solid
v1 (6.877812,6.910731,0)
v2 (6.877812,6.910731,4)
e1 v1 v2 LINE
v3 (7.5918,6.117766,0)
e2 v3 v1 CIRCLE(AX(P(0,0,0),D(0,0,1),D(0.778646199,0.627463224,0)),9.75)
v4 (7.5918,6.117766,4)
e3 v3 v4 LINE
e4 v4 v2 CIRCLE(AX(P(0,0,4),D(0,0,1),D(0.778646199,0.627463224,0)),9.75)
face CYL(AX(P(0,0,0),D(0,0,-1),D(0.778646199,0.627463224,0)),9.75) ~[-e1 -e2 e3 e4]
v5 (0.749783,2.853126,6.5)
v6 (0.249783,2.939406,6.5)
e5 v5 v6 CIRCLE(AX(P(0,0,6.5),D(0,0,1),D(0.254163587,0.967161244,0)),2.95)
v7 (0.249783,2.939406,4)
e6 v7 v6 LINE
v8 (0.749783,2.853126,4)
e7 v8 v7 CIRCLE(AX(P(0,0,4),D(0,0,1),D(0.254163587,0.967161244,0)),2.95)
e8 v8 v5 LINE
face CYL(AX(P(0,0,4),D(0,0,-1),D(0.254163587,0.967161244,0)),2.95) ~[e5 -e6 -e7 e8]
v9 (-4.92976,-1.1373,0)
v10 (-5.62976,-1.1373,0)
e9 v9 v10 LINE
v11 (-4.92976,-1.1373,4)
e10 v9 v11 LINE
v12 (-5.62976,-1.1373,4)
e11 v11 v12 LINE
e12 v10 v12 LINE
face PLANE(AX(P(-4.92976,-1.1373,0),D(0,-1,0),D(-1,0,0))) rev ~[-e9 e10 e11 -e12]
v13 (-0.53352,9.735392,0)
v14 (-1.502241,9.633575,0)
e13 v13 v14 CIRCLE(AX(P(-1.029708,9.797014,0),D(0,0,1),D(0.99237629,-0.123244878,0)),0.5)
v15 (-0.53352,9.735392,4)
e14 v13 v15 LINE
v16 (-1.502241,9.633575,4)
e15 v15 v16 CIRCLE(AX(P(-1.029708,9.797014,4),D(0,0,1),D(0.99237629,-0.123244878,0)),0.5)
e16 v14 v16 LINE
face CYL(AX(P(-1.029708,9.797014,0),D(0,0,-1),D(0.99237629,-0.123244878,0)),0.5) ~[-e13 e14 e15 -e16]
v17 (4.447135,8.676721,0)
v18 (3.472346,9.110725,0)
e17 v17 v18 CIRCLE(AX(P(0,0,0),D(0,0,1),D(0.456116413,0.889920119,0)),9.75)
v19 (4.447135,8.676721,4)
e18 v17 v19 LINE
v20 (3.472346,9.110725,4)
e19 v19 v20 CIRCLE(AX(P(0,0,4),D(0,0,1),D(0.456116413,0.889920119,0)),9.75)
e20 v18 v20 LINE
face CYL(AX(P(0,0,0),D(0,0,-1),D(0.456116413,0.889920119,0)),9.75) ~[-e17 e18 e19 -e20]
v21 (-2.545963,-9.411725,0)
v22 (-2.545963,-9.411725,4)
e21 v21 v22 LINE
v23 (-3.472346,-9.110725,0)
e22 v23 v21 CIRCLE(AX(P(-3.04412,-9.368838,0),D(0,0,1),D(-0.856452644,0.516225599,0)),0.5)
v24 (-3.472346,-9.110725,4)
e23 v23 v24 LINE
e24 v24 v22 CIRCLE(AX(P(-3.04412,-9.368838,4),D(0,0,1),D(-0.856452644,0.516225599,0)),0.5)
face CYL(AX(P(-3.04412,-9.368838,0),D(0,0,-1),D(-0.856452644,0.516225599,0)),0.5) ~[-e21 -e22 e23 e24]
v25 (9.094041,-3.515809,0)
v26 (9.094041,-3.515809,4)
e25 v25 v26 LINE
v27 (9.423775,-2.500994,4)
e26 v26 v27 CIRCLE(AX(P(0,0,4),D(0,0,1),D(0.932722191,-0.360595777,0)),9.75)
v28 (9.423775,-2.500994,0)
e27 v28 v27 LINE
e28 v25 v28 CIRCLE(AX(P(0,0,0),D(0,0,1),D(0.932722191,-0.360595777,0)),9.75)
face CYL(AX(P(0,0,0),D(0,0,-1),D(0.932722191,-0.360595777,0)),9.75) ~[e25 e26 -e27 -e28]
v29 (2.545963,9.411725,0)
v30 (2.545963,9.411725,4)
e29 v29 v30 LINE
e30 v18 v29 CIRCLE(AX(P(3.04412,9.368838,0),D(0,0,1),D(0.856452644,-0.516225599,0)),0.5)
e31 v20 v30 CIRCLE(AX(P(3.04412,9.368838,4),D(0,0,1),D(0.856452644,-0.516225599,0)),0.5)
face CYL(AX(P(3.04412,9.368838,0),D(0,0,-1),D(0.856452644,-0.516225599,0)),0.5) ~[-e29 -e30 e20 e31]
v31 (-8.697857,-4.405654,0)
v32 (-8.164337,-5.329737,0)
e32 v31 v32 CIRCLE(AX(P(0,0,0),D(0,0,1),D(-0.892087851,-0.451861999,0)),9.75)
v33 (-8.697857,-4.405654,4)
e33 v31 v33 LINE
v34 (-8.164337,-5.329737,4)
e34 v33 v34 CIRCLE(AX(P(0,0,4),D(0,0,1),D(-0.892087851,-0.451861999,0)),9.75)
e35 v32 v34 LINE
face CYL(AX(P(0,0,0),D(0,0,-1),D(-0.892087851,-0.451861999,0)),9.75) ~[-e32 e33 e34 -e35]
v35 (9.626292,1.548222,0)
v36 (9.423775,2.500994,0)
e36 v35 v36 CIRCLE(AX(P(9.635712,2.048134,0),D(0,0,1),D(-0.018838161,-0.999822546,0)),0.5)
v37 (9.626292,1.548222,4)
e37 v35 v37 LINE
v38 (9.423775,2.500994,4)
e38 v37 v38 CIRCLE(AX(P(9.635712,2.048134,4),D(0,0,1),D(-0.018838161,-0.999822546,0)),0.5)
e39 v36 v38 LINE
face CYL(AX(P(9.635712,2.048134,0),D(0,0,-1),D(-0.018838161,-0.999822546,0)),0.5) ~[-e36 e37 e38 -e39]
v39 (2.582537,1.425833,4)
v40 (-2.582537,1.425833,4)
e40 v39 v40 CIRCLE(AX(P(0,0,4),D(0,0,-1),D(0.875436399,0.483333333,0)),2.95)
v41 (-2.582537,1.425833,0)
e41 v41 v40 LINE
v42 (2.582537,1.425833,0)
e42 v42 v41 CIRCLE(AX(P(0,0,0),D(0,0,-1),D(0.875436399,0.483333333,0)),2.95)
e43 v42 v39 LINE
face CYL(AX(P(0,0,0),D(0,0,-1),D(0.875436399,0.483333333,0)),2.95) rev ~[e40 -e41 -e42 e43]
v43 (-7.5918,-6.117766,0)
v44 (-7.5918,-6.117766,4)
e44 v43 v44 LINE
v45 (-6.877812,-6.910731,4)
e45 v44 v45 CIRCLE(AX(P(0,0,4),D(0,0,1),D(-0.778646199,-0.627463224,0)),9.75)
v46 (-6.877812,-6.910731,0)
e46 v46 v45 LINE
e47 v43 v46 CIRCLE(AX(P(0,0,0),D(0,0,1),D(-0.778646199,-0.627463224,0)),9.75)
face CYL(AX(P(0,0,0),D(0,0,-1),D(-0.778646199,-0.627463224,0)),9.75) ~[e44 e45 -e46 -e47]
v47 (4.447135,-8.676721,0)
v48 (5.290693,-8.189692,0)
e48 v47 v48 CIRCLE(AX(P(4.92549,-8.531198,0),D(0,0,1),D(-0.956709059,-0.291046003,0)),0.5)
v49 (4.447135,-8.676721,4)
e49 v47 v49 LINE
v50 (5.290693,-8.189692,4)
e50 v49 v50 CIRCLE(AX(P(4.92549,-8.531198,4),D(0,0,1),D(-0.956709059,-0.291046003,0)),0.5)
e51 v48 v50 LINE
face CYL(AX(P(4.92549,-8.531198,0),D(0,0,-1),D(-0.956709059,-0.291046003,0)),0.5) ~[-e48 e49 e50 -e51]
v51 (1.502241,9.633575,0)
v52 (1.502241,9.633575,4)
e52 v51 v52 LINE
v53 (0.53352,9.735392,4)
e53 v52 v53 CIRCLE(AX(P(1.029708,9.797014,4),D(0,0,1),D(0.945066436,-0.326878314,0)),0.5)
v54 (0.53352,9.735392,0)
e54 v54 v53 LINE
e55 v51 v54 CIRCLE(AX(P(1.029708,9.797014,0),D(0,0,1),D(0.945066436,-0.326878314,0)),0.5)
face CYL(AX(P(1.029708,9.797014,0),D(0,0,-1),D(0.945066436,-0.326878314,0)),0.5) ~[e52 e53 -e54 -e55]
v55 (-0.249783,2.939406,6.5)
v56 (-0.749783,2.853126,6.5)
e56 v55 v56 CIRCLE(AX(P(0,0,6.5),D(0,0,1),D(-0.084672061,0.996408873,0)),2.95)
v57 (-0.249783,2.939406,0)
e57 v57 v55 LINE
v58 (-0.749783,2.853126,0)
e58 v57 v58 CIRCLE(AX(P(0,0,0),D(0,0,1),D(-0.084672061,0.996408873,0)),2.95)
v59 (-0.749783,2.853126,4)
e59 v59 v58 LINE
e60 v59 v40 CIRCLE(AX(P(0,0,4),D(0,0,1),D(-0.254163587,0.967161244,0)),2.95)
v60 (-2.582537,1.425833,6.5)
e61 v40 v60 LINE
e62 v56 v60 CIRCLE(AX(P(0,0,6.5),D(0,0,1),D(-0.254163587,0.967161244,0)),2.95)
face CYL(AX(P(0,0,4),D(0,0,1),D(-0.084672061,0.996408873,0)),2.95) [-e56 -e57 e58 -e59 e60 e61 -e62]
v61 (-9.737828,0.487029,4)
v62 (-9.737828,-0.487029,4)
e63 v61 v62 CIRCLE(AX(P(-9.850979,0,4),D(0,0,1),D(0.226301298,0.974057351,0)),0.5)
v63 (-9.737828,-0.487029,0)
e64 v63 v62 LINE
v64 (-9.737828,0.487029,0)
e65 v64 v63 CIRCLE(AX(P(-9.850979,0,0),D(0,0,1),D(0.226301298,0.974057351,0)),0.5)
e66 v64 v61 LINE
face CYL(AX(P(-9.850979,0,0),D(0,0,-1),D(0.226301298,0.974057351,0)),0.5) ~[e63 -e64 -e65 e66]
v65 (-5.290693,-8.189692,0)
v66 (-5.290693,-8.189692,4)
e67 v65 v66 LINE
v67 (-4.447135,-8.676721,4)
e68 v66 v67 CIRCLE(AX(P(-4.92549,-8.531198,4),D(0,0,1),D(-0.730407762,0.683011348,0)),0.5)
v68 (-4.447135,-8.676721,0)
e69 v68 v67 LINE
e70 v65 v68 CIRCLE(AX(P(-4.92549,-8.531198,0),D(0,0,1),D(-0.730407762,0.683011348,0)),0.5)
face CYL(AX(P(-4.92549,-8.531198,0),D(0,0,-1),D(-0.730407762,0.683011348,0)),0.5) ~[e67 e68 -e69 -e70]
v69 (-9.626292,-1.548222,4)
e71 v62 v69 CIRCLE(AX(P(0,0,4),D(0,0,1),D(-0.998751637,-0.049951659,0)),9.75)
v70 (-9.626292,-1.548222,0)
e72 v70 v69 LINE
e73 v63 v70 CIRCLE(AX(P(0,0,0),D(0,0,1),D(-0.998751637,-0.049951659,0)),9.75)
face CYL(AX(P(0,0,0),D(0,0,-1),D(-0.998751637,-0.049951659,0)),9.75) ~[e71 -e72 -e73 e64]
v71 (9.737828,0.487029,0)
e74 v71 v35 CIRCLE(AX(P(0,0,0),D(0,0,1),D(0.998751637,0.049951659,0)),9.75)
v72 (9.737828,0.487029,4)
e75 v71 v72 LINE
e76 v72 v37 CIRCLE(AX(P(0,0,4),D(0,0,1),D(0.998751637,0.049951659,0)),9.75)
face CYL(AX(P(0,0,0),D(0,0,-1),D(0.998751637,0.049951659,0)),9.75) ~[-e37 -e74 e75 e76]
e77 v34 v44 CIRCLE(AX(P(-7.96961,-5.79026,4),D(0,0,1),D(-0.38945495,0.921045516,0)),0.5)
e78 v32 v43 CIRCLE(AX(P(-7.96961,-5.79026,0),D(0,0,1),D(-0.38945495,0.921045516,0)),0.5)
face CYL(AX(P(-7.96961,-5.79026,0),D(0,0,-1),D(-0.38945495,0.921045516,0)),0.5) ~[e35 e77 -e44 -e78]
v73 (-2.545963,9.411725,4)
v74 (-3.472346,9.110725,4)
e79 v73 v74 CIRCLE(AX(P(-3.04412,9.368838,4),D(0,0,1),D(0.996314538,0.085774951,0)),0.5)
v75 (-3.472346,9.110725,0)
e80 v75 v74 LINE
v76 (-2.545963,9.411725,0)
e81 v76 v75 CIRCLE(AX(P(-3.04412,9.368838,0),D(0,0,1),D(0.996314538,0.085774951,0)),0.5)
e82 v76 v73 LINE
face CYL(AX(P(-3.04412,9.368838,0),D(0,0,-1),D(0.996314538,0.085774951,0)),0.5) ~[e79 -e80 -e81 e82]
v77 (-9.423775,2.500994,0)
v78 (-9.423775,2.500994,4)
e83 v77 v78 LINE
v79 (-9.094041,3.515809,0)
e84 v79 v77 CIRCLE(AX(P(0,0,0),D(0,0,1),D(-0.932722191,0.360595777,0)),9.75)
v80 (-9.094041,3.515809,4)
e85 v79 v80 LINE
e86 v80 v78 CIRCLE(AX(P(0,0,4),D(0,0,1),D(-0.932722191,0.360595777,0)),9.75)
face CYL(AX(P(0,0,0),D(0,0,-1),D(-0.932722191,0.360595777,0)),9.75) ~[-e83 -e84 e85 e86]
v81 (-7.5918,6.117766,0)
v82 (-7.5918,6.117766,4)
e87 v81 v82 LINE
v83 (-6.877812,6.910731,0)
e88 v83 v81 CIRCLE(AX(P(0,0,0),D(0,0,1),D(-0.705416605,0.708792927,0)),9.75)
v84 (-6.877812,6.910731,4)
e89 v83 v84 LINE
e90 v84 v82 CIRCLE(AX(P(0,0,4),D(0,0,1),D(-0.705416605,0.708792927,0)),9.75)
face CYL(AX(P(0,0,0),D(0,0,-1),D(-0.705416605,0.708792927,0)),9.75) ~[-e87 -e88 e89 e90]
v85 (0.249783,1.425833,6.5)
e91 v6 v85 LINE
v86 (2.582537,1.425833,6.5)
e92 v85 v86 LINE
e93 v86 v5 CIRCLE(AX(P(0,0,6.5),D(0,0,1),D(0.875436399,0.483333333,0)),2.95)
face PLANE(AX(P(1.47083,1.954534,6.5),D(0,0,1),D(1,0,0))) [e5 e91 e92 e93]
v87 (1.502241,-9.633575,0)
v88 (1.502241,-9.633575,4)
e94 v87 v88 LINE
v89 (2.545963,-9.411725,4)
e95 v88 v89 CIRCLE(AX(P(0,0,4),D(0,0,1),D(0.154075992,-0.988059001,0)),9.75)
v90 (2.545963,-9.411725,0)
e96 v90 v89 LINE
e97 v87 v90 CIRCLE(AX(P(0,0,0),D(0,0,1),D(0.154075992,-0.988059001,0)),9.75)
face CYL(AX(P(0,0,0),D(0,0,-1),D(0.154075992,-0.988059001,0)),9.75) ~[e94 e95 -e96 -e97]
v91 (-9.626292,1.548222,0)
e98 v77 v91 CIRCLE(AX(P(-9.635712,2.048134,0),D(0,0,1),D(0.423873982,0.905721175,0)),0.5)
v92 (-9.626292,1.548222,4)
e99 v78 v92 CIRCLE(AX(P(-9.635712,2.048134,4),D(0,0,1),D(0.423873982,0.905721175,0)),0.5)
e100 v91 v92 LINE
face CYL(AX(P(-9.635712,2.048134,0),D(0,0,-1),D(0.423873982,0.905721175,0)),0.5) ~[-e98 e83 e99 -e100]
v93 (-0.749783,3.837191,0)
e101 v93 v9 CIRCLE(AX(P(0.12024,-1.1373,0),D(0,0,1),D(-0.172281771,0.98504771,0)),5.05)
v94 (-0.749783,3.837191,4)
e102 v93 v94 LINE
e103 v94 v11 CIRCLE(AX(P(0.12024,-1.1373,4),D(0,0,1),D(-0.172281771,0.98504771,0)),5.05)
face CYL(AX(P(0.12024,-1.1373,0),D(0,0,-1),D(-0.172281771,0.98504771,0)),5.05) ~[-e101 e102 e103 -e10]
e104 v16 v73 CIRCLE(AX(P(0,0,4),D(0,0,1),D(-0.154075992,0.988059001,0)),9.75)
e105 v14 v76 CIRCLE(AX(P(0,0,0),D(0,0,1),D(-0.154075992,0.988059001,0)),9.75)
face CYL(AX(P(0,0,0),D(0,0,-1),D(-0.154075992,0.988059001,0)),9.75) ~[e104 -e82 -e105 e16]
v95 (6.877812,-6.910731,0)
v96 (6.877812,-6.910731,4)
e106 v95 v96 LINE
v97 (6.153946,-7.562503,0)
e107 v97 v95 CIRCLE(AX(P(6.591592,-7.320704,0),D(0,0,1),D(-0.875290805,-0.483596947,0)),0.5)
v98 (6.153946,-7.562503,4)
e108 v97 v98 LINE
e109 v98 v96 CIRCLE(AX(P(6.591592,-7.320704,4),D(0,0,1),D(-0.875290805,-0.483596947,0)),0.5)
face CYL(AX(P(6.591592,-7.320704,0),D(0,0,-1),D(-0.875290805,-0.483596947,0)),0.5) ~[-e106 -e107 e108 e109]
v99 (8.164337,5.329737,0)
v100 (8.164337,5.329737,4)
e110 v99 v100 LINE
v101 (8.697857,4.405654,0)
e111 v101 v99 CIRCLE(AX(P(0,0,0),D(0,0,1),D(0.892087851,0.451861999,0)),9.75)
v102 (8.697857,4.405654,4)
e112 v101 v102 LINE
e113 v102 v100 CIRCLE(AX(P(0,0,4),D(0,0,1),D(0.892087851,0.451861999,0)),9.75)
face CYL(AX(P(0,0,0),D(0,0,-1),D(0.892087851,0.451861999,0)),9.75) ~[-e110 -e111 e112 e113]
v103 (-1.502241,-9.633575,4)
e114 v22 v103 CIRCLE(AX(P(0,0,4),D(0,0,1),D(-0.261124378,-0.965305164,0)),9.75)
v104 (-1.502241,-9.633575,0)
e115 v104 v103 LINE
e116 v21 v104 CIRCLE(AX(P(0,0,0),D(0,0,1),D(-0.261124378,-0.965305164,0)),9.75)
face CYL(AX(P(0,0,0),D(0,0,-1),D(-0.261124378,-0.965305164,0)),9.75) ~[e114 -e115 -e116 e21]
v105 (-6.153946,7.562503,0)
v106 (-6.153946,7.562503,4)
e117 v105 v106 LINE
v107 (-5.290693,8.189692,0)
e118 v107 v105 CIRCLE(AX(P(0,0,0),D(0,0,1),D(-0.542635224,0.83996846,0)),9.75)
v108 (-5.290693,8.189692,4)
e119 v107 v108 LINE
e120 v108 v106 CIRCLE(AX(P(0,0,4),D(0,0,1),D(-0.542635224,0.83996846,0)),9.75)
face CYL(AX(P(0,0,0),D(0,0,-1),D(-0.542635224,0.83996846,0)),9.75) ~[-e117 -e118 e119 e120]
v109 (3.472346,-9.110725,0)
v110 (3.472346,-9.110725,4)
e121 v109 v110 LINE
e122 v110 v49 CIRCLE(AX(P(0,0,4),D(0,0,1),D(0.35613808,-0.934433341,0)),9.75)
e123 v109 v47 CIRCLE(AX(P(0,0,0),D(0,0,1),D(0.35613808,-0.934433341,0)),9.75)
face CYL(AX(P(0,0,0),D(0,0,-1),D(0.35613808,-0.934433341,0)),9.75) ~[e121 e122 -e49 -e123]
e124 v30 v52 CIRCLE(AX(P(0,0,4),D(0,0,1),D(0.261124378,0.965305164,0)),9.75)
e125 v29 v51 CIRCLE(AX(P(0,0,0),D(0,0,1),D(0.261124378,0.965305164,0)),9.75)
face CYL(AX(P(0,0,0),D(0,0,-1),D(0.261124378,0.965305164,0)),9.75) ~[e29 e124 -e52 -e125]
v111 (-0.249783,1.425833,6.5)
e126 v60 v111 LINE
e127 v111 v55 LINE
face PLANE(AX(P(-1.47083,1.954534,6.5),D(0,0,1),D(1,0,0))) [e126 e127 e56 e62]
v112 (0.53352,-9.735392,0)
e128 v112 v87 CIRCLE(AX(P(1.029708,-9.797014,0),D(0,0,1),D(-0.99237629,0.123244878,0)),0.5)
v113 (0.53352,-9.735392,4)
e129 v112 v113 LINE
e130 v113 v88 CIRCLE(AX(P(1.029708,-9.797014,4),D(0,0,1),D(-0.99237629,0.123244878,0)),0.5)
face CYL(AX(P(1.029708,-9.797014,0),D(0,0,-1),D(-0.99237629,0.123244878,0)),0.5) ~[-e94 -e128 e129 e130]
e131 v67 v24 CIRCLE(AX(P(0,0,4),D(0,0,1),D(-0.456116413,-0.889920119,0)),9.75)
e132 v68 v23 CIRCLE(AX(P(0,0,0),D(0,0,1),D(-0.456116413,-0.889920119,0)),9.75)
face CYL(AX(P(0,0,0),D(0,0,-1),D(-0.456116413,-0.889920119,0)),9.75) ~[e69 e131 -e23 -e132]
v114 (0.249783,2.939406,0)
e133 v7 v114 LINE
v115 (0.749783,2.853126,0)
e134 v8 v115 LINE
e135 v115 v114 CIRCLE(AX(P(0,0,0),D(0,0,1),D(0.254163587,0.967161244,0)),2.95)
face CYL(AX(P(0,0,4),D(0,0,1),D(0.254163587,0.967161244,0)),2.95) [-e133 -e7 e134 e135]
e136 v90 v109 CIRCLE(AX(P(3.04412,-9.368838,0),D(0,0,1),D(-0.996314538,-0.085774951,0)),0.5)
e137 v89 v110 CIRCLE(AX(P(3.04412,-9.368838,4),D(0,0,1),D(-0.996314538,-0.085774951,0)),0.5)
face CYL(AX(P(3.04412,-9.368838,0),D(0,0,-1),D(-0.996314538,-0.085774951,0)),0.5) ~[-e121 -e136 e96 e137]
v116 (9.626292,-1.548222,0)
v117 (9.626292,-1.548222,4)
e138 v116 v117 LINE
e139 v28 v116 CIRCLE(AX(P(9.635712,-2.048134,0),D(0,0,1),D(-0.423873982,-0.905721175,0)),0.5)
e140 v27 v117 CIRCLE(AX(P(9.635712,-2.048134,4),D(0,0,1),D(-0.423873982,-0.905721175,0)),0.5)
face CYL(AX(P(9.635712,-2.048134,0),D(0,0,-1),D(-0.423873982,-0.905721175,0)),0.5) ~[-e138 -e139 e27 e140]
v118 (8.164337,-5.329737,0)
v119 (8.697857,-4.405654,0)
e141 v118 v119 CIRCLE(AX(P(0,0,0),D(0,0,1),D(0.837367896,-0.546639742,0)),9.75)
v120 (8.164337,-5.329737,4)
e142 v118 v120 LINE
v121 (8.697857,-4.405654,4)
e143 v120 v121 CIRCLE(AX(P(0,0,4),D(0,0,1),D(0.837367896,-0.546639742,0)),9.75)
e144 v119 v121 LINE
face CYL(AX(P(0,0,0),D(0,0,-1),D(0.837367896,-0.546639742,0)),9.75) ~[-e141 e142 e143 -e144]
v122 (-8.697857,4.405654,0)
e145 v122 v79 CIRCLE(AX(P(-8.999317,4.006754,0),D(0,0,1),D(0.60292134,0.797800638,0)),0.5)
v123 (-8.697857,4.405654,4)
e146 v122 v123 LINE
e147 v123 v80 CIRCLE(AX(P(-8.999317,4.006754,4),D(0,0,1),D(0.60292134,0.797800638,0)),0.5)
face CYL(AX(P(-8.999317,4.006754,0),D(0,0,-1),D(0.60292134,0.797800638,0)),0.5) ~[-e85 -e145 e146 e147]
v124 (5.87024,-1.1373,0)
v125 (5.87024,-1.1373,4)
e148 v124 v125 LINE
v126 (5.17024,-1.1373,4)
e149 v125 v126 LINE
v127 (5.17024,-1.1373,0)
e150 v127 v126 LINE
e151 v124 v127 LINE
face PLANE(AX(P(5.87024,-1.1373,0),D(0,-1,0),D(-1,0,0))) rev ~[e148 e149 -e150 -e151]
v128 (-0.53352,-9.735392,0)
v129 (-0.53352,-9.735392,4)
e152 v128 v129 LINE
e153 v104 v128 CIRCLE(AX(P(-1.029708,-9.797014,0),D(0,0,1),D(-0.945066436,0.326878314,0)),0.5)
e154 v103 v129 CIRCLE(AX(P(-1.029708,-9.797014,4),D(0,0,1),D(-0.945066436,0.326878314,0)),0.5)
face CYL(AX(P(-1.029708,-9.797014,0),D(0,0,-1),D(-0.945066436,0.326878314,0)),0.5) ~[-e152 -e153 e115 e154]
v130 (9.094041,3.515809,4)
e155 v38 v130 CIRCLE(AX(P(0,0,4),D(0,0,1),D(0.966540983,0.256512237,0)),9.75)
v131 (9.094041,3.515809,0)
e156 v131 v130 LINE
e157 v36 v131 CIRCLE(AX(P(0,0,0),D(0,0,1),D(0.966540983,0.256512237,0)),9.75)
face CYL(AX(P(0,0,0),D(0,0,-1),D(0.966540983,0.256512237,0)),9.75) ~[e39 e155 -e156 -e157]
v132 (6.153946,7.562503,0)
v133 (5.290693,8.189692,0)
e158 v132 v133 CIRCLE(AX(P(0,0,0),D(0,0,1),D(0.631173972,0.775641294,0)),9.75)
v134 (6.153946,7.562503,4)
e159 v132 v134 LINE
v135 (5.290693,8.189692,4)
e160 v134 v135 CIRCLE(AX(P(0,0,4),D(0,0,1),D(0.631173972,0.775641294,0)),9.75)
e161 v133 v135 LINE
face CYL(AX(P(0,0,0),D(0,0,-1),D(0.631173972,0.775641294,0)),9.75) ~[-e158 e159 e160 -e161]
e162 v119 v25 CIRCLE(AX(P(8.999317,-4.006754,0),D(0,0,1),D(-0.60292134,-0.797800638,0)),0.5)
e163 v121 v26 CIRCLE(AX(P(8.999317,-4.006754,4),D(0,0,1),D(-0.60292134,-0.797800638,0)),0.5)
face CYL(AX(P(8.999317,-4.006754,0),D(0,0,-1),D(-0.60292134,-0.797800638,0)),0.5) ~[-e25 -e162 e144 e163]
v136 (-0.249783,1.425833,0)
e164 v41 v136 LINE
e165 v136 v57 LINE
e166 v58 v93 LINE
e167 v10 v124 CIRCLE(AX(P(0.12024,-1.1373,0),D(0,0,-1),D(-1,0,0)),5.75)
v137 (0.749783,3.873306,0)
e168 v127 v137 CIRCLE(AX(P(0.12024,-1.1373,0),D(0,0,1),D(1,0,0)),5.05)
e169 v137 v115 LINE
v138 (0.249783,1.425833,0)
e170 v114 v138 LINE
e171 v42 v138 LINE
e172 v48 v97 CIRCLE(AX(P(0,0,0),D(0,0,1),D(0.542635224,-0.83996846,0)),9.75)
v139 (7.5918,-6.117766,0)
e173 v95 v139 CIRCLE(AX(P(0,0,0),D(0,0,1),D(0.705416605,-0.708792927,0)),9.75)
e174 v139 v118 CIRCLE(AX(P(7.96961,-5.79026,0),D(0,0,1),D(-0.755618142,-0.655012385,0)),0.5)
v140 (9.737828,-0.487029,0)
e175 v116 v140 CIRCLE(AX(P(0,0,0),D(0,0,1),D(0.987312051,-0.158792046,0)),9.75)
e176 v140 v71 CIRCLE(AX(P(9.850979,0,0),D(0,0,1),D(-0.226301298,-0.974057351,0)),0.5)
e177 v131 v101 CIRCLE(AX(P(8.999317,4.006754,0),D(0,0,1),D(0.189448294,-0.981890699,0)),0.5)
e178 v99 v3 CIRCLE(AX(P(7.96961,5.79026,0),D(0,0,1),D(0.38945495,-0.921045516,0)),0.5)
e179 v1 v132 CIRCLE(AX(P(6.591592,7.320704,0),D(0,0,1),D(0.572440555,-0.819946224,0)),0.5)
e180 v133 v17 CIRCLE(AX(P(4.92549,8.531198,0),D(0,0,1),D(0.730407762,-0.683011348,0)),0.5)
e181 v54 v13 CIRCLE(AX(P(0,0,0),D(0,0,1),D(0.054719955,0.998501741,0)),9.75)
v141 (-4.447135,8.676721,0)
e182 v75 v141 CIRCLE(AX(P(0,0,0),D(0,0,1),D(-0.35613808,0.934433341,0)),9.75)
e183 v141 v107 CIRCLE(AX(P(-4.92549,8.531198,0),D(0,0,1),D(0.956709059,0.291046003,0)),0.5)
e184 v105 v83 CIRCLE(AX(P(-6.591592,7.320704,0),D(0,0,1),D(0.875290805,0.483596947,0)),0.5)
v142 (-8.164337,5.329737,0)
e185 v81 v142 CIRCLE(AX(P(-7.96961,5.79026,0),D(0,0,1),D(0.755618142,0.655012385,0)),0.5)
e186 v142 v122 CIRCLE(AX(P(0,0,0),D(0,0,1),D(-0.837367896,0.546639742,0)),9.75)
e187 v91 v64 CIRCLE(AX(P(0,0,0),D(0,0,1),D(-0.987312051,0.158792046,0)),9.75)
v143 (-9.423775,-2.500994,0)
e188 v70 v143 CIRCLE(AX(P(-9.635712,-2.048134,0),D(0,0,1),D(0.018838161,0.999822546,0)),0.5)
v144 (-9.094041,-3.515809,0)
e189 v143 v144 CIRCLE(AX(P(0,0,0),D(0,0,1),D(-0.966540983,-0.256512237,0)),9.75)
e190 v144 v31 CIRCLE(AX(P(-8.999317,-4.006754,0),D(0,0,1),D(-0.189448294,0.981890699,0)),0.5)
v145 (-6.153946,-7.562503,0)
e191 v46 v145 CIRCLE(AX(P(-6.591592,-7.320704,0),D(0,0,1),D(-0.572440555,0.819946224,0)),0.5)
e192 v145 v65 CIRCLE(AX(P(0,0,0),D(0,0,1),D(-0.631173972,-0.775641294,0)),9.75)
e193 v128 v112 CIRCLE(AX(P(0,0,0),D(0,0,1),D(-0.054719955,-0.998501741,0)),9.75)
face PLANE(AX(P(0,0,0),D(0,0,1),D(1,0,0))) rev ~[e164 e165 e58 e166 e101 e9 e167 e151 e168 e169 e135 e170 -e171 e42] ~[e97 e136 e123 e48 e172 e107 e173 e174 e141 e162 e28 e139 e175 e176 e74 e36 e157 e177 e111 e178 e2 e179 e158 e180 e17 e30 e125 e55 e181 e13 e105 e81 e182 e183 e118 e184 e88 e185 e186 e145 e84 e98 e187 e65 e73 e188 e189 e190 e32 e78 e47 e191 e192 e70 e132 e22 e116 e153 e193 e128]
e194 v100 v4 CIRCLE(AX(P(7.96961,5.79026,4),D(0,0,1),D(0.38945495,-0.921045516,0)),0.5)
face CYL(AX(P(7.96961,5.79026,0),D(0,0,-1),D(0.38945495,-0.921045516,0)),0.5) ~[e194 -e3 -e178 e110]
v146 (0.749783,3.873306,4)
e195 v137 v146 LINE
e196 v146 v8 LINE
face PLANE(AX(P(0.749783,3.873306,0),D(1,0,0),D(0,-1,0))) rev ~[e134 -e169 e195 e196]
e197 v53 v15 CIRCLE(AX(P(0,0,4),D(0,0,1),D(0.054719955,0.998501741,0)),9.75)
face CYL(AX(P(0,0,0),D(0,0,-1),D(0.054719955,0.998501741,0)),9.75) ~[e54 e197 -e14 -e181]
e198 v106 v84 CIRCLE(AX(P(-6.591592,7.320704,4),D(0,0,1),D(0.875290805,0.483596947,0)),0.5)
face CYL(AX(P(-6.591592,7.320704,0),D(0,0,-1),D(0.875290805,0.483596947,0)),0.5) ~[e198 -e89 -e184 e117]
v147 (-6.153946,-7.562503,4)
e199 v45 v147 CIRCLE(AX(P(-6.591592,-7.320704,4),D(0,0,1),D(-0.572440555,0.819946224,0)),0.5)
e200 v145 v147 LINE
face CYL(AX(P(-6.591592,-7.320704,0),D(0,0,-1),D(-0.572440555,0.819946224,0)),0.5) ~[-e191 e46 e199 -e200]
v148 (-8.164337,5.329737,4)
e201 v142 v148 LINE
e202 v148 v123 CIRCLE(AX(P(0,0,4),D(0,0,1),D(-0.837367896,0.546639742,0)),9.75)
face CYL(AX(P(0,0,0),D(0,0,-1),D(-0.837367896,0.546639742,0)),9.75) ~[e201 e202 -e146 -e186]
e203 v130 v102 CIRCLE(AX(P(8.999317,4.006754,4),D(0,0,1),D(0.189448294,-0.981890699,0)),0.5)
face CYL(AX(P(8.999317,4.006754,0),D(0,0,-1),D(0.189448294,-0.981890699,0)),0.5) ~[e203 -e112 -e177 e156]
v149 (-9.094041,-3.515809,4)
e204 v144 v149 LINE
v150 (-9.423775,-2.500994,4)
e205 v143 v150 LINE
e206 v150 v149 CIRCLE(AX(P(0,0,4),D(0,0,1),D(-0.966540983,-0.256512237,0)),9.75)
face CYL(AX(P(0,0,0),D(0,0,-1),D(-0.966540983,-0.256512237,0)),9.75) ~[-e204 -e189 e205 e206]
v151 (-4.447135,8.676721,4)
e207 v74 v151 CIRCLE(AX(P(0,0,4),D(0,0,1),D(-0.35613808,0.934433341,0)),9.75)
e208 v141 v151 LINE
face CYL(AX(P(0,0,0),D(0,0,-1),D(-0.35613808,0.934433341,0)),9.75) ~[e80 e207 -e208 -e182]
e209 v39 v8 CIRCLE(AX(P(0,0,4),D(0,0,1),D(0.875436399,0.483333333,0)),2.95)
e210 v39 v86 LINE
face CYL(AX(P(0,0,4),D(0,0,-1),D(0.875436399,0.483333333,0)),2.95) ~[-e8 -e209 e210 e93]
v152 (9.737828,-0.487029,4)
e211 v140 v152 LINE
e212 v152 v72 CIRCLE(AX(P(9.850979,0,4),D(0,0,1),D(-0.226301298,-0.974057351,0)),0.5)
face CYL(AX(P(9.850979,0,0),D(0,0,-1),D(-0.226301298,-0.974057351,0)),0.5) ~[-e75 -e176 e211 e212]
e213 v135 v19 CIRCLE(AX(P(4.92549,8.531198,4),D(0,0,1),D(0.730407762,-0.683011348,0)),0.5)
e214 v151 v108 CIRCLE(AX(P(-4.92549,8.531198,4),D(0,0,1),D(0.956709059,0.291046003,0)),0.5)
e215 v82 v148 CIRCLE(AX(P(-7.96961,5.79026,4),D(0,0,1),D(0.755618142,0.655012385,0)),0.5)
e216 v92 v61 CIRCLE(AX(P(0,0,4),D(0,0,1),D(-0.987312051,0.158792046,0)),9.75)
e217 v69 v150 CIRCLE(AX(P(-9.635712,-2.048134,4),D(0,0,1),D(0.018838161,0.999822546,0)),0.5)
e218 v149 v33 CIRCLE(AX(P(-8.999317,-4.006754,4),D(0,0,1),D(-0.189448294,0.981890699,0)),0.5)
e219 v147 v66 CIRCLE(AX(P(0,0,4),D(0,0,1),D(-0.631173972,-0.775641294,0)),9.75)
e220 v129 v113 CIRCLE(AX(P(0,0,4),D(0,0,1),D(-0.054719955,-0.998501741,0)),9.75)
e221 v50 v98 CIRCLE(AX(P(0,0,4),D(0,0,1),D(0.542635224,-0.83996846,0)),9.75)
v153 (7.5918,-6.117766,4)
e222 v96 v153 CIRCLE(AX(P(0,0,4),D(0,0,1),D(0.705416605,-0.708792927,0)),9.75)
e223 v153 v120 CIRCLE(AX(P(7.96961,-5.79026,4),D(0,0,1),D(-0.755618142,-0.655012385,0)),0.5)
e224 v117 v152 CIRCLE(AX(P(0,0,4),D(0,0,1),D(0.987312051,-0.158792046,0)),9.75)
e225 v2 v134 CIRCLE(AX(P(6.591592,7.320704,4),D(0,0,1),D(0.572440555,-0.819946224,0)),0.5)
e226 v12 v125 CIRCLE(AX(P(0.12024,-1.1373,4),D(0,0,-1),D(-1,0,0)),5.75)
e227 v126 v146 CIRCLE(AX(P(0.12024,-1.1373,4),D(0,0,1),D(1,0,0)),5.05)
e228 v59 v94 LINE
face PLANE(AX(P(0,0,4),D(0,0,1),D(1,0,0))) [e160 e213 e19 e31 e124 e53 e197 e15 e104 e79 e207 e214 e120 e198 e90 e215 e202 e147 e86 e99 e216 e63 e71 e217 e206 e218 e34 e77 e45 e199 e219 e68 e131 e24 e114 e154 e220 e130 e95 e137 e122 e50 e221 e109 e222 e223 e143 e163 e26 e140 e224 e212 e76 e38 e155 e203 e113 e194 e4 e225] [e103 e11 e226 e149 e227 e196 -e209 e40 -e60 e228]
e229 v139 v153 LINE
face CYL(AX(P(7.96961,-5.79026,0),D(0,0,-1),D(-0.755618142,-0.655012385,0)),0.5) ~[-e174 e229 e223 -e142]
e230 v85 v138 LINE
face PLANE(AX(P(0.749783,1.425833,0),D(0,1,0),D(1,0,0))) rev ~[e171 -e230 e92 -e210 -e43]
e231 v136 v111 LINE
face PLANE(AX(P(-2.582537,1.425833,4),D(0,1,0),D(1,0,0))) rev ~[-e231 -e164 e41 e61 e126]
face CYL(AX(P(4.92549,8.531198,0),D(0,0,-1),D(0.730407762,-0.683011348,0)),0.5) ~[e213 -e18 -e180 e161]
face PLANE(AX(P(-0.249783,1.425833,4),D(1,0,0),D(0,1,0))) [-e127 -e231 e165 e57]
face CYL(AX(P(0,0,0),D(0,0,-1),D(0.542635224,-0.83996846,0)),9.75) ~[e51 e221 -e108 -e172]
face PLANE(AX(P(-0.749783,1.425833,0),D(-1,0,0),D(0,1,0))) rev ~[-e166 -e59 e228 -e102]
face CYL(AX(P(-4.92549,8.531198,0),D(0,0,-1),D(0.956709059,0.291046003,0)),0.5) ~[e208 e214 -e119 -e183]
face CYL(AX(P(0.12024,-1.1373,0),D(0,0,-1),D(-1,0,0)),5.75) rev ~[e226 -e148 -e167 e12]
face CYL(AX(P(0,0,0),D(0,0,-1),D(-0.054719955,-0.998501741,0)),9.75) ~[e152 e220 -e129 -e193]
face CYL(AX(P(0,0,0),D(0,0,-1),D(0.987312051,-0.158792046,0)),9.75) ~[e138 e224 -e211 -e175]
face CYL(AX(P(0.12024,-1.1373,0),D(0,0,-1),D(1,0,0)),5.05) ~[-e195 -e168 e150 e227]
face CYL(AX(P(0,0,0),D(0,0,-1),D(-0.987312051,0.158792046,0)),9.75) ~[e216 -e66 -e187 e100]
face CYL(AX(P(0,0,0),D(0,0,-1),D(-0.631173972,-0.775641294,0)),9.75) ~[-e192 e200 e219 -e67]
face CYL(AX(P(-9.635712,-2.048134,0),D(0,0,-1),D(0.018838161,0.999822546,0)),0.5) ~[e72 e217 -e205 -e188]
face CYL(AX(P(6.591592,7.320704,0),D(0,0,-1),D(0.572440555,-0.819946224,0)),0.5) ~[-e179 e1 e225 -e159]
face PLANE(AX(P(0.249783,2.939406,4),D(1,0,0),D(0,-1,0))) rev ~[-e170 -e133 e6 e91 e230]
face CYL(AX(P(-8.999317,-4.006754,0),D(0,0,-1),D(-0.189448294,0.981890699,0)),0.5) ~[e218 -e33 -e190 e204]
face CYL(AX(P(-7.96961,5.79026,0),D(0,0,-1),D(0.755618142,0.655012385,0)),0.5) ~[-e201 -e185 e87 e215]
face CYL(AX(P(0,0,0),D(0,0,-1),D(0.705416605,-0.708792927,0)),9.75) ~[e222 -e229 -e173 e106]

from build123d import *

# Parameters (mm, degrees)
F1_DEPTH      = 4
F3_DEPTH      = 2.5
F3_DEPTH_BACK = 4


with BuildPart() as f1:
    # F0 (on Top) → F1 (new body)
    with BuildSketch(Plane.XY):
        with BuildLine():
            ThreePointArc((-9.7378284576, 0.4870286754), (-10.3509791066, 0), (-9.7378284576, -0.4870286754))
            ThreePointArc((-9.7378284576, -0.4870286754), (-9.6965884798, -1.0191525169), (-9.6262924975, -1.5482224492))
            ThreePointArc((-9.6262924975, -1.5482224492), (-10.1247853783, -2.1520895677), (-9.4237745868, -2.5009943098))
            ThreePointArc((-9.4237745868, -2.5009943098), (-9.2728010339, -3.0129156952), (-9.0940413632, -3.5158088236))
            ThreePointArc((-9.0940413632, -3.5158088236), (-9.4560899449, -4.2101224943), (-8.6978565462, -4.4056544918))
            ThreePointArc((-8.6978565462, -4.4056544918), (-8.4437476869, -4.875), (-8.1643369833, -5.3297374816))
            ThreePointArc((-8.1643369833, -5.3297374816), (-8.3741180056, -6.0841528656), (-7.5918004377, -6.1177664318))
            ThreePointArc((-7.5918004377, -6.1177664318), (-7.2456620484, -6.524023412), (-6.8778119004, -6.9107310368))
            ThreePointArc((-6.8778119004, -6.9107310368), (-6.926156926, -7.6922765617), (-6.1539462205, -7.5625026225))
            ThreePointArc((-6.1539462205, -7.5625026225), (-5.7309062099, -7.8879156952), (-5.290693434, -8.1896924843))
            ThreePointArc((-5.290693434, -8.1896924843), (-5.1754895533, -8.9642108603), (-4.4471350235, -8.6767211597))
            ThreePointArc((-4.4471350235, -8.6767211597), (-3.96568227, -8.907068212), (-3.472346277, -9.1107250717))
            ThreePointArc((-3.472346277, -9.1107250717), (-3.1986284523, -9.8443661293), (-2.5459626864, -9.4117253466))
            ThreePointArc((-2.5459626864, -9.4117253466), (-2.0271389855, -9.5369391072), (-1.5022409256, -9.6335752554))
            ThreePointArc((-1.5022409256, -9.6335752554), (-1.0819719393, -10.29427536), (-0.5335195629, -9.7353919734))
            ThreePointArc((-0.5335195629, -9.7353919734), (0, -9.75), (0.5335195629, -9.7353919734))
            ThreePointArc((0.5335195629, -9.7353919734), (1.0819719393, -10.29427536), (1.5022409256, -9.6335752554))
            ThreePointArc((1.5022409256, -9.6335752554), (2.0271389855, -9.5369391072), (2.5459626864, -9.4117253466))
            ThreePointArc((2.5459626864, -9.4117253466), (3.1986284523, -9.8443661293), (3.472346277, -9.1107250717))
            ThreePointArc((3.472346277, -9.1107250717), (3.96568227, -8.907068212), (4.4471350235, -8.6767211597))
            ThreePointArc((4.4471350235, -8.6767211597), (5.1754895533, -8.9642108603), (5.290693434, -8.1896924843))
            ThreePointArc((5.290693434, -8.1896924843), (5.7309062099, -7.8879156952), (6.1539462205, -7.5625026225))
            ThreePointArc((6.1539462205, -7.5625026225), (6.926156926, -7.6922765617), (6.8778119004, -6.9107310368))
            ThreePointArc((6.8778119004, -6.9107310368), (7.2456620484, -6.524023412), (7.5918004377, -6.1177664318))
            ThreePointArc((7.5918004377, -6.1177664318), (8.3741180056, -6.0841528656), (8.1643369833, -5.3297374816))
            ThreePointArc((8.1643369833, -5.3297374816), (8.4437476869, -4.875), (8.6978565462, -4.4056544918))
            ThreePointArc((8.6978565462, -4.4056544918), (9.4560899449, -4.2101224943), (9.0940413632, -3.5158088236))
            ThreePointArc((9.0940413632, -3.5158088236), (9.2728010339, -3.0129156952), (9.4237745868, -2.5009943098))
            ThreePointArc((9.4237745868, -2.5009943098), (10.1247853783, -2.1520895677), (9.6262924975, -1.5482224492))
            ThreePointArc((9.6262924975, -1.5482224492), (9.6965884798, -1.0191525169), (9.7378284576, -0.4870286754))
            ThreePointArc((9.7378284576, -0.4870286754), (10.3509791066, 0), (9.7378284576, 0.4870286754))
            ThreePointArc((9.7378284576, 0.4870286754), (9.6965884798, 1.0191525169), (9.6262924975, 1.5482224492))
            ThreePointArc((9.6262924975, 1.5482224492), (10.1247853783, 2.1520895677), (9.4237745868, 2.5009943098))
            ThreePointArc((9.4237745868, 2.5009943098), (9.2728010339, 3.0129156952), (9.0940413632, 3.5158088236))
            ThreePointArc((9.0940413632, 3.5158088236), (9.4560899449, 4.2101224943), (8.6978565462, 4.4056544918))
            ThreePointArc((8.6978565462, 4.4056544918), (8.4437476869, 4.875), (8.1643369833, 5.3297374816))
            ThreePointArc((8.1643369833, 5.3297374816), (8.3741180056, 6.0841528656), (7.5918004377, 6.1177664318))
            ThreePointArc((7.5918004377, 6.1177664318), (7.2456620484, 6.524023412), (6.8778119004, 6.9107310368))
            ThreePointArc((6.8778119004, 6.9107310368), (6.926156926, 7.6922765617), (6.1539462205, 7.5625026225))
            ThreePointArc((6.1539462205, 7.5625026225), (5.7309062099, 7.8879156952), (5.290693434, 8.1896924843))
            ThreePointArc((5.290693434, 8.1896924843), (5.1754895533, 8.9642108603), (4.4471350235, 8.6767211597))
            ThreePointArc((4.4471350235, 8.6767211597), (3.96568227, 8.907068212), (3.472346277, 9.1107250717))
            ThreePointArc((3.472346277, 9.1107250717), (3.1986284523, 9.8443661293), (2.5459626864, 9.4117253466))
            ThreePointArc((2.5459626864, 9.4117253466), (2.0271389855, 9.5369391072), (1.5022409256, 9.6335752554))
            ThreePointArc((1.5022409256, 9.6335752554), (1.0819719393, 10.29427536), (0.5335195629, 9.7353919734))
            ThreePointArc((0.5335195629, 9.7353919734), (0, 9.75), (-0.5335195629, 9.7353919734))
            ThreePointArc((-0.5335195629, 9.7353919734), (-1.0819719393, 10.29427536), (-1.5022409256, 9.6335752554))
            ThreePointArc((-1.5022409256, 9.6335752554), (-2.0271389855, 9.5369391072), (-2.5459626864, 9.4117253466))
            ThreePointArc((-2.5459626864, 9.4117253466), (-3.1986284523, 9.8443661293), (-3.472346277, 9.1107250717))
            ThreePointArc((-3.472346277, 9.1107250717), (-3.96568227, 8.907068212), (-4.4471350235, 8.6767211597))
            ThreePointArc((-4.4471350235, 8.6767211597), (-5.1754895533, 8.9642108603), (-5.290693434, 8.1896924843))
            ThreePointArc((-5.290693434, 8.1896924843), (-5.7309062099, 7.8879156952), (-6.1539462205, 7.5625026225))
            ThreePointArc((-6.1539462205, 7.5625026225), (-6.926156926, 7.6922765617), (-6.8778119004, 6.9107310368))
            ThreePointArc((-6.8778119004, 6.9107310368), (-7.2456620484, 6.524023412), (-7.5918004377, 6.1177664318))
            ThreePointArc((-7.5918004377, 6.1177664318), (-8.3741180056, 6.0841528656), (-8.1643369833, 5.3297374816))
            ThreePointArc((-8.1643369833, 5.3297374816), (-8.4437476869, 4.875), (-8.6978565462, 4.4056544918))
            ThreePointArc((-8.6978565462, 4.4056544918), (-9.4560899449, 4.2101224943), (-9.0940413632, 3.5158088236))
            ThreePointArc((-9.0940413632, 3.5158088236), (-9.2728010339, 3.0129156952), (-9.4237745868, 2.5009943098))
            ThreePointArc((-9.4237745868, 2.5009943098), (-10.1247853783, 2.1520895677), (-9.6262924975, 1.5482224492))
            ThreePointArc((-9.6262924975, 1.5482224492), (-9.6965884798, 1.0191525169), (-9.7378284576, 0.4870286754))
        make_face()
        with BuildLine():
            ThreePointArc((2.5825373774, 1.4258333333), (0, -2.95), (-2.5825373774, 1.4258333333))
            Line((-2.5825373774, 1.4258333333), (-0.7497825806, 1.4258333333))
            Line((-0.7497825806, 1.4258333333), (-0.7497825806, 3.8371907801))
            ThreePointArc((-0.7497825806, 3.8371907801), (-3.7460314761, 2.1114599252), (-4.9297596373, -1.1373001565))
            Line((-4.9297596373, -1.1373001565), (-5.6297596373, -1.1373001565))
            ThreePointArc((-5.6297596373, -1.1373001565), (0.1202403627, 4.6126998435), (5.8702403627, -1.1373001565))
            Line((5.8702403627, -1.1373001565), (5.1702403627, -1.1373001565))
            ThreePointArc((5.1702403627, -1.1373001565), (3.9071710592, 2.2036062924), (0.7497825806, 3.8733062535))
            Line((0.7497825806, 3.8733062535), (0.7497825806, 1.4258333333))
            Line((0.7497825806, 1.4258333333), (2.5825373774, 1.4258333333))
        make_face(mode=Mode.SUBTRACT)
    extrude(amount=F1_DEPTH)

    # F2 (on face) → F3 (join, two sides)
    with BuildSketch(Plane.XY.offset(4)) as f3_sk:
        with BuildLine():
            ThreePointArc((-0.7497825806, 2.8531256688), (-1.8125617033, 2.3274707456), (-2.5825373774, 1.4258333333))
            Line((-2.5825373774, 1.4258333333), (-0.7497825806, 1.4258333333))
            Line((-0.7497825806, 1.4258333333), (-0.7497825806, 2.8531256688))
        make_face()
        with BuildLine():
            Line((0.7497825806, 1.4258333333), (2.5825373774, 1.4258333333))
            ThreePointArc((2.5825373774, 1.4258333333), (1.8125617033, 2.3274707456), (0.7497825806, 2.8531256688))
            Line((0.7497825806, 2.8531256688), (0.7497825806, 1.4258333333))
        make_face()
        with BuildLine():
            ThreePointArc((-0.2497825806, 2.9394061751), (-0.5016410164, 2.9070356535), (-0.7497825806, 2.8531256688))
            Line((-0.7497825806, 2.8531256688), (-0.7497825806, 1.4258333333))
            Line((-0.7497825806, 1.4258333333), (-0.2497825806, 1.4258333333))
            Line((-0.2497825806, 1.4258333333), (-0.2497825806, 2.9394061751))
        make_face()
        with BuildLine():
            Line((0.7497825806, 1.4258333333), (0.7497825806, 2.8531256688))
            ThreePointArc((0.7497825806, 2.8531256688), (0.5016410164, 2.9070356535), (0.2497825806, 2.9394061751))
            Line((0.2497825806, 2.9394061751), (0.2497825806, 1.4258333333))
            Line((0.2497825806, 1.4258333333), (0.7497825806, 1.4258333333))
        make_face()
    extrude(amount=F3_DEPTH)
    extrude(f3_sk.sketch, amount=-F3_DEPTH_BACK)


solid = f1.part
